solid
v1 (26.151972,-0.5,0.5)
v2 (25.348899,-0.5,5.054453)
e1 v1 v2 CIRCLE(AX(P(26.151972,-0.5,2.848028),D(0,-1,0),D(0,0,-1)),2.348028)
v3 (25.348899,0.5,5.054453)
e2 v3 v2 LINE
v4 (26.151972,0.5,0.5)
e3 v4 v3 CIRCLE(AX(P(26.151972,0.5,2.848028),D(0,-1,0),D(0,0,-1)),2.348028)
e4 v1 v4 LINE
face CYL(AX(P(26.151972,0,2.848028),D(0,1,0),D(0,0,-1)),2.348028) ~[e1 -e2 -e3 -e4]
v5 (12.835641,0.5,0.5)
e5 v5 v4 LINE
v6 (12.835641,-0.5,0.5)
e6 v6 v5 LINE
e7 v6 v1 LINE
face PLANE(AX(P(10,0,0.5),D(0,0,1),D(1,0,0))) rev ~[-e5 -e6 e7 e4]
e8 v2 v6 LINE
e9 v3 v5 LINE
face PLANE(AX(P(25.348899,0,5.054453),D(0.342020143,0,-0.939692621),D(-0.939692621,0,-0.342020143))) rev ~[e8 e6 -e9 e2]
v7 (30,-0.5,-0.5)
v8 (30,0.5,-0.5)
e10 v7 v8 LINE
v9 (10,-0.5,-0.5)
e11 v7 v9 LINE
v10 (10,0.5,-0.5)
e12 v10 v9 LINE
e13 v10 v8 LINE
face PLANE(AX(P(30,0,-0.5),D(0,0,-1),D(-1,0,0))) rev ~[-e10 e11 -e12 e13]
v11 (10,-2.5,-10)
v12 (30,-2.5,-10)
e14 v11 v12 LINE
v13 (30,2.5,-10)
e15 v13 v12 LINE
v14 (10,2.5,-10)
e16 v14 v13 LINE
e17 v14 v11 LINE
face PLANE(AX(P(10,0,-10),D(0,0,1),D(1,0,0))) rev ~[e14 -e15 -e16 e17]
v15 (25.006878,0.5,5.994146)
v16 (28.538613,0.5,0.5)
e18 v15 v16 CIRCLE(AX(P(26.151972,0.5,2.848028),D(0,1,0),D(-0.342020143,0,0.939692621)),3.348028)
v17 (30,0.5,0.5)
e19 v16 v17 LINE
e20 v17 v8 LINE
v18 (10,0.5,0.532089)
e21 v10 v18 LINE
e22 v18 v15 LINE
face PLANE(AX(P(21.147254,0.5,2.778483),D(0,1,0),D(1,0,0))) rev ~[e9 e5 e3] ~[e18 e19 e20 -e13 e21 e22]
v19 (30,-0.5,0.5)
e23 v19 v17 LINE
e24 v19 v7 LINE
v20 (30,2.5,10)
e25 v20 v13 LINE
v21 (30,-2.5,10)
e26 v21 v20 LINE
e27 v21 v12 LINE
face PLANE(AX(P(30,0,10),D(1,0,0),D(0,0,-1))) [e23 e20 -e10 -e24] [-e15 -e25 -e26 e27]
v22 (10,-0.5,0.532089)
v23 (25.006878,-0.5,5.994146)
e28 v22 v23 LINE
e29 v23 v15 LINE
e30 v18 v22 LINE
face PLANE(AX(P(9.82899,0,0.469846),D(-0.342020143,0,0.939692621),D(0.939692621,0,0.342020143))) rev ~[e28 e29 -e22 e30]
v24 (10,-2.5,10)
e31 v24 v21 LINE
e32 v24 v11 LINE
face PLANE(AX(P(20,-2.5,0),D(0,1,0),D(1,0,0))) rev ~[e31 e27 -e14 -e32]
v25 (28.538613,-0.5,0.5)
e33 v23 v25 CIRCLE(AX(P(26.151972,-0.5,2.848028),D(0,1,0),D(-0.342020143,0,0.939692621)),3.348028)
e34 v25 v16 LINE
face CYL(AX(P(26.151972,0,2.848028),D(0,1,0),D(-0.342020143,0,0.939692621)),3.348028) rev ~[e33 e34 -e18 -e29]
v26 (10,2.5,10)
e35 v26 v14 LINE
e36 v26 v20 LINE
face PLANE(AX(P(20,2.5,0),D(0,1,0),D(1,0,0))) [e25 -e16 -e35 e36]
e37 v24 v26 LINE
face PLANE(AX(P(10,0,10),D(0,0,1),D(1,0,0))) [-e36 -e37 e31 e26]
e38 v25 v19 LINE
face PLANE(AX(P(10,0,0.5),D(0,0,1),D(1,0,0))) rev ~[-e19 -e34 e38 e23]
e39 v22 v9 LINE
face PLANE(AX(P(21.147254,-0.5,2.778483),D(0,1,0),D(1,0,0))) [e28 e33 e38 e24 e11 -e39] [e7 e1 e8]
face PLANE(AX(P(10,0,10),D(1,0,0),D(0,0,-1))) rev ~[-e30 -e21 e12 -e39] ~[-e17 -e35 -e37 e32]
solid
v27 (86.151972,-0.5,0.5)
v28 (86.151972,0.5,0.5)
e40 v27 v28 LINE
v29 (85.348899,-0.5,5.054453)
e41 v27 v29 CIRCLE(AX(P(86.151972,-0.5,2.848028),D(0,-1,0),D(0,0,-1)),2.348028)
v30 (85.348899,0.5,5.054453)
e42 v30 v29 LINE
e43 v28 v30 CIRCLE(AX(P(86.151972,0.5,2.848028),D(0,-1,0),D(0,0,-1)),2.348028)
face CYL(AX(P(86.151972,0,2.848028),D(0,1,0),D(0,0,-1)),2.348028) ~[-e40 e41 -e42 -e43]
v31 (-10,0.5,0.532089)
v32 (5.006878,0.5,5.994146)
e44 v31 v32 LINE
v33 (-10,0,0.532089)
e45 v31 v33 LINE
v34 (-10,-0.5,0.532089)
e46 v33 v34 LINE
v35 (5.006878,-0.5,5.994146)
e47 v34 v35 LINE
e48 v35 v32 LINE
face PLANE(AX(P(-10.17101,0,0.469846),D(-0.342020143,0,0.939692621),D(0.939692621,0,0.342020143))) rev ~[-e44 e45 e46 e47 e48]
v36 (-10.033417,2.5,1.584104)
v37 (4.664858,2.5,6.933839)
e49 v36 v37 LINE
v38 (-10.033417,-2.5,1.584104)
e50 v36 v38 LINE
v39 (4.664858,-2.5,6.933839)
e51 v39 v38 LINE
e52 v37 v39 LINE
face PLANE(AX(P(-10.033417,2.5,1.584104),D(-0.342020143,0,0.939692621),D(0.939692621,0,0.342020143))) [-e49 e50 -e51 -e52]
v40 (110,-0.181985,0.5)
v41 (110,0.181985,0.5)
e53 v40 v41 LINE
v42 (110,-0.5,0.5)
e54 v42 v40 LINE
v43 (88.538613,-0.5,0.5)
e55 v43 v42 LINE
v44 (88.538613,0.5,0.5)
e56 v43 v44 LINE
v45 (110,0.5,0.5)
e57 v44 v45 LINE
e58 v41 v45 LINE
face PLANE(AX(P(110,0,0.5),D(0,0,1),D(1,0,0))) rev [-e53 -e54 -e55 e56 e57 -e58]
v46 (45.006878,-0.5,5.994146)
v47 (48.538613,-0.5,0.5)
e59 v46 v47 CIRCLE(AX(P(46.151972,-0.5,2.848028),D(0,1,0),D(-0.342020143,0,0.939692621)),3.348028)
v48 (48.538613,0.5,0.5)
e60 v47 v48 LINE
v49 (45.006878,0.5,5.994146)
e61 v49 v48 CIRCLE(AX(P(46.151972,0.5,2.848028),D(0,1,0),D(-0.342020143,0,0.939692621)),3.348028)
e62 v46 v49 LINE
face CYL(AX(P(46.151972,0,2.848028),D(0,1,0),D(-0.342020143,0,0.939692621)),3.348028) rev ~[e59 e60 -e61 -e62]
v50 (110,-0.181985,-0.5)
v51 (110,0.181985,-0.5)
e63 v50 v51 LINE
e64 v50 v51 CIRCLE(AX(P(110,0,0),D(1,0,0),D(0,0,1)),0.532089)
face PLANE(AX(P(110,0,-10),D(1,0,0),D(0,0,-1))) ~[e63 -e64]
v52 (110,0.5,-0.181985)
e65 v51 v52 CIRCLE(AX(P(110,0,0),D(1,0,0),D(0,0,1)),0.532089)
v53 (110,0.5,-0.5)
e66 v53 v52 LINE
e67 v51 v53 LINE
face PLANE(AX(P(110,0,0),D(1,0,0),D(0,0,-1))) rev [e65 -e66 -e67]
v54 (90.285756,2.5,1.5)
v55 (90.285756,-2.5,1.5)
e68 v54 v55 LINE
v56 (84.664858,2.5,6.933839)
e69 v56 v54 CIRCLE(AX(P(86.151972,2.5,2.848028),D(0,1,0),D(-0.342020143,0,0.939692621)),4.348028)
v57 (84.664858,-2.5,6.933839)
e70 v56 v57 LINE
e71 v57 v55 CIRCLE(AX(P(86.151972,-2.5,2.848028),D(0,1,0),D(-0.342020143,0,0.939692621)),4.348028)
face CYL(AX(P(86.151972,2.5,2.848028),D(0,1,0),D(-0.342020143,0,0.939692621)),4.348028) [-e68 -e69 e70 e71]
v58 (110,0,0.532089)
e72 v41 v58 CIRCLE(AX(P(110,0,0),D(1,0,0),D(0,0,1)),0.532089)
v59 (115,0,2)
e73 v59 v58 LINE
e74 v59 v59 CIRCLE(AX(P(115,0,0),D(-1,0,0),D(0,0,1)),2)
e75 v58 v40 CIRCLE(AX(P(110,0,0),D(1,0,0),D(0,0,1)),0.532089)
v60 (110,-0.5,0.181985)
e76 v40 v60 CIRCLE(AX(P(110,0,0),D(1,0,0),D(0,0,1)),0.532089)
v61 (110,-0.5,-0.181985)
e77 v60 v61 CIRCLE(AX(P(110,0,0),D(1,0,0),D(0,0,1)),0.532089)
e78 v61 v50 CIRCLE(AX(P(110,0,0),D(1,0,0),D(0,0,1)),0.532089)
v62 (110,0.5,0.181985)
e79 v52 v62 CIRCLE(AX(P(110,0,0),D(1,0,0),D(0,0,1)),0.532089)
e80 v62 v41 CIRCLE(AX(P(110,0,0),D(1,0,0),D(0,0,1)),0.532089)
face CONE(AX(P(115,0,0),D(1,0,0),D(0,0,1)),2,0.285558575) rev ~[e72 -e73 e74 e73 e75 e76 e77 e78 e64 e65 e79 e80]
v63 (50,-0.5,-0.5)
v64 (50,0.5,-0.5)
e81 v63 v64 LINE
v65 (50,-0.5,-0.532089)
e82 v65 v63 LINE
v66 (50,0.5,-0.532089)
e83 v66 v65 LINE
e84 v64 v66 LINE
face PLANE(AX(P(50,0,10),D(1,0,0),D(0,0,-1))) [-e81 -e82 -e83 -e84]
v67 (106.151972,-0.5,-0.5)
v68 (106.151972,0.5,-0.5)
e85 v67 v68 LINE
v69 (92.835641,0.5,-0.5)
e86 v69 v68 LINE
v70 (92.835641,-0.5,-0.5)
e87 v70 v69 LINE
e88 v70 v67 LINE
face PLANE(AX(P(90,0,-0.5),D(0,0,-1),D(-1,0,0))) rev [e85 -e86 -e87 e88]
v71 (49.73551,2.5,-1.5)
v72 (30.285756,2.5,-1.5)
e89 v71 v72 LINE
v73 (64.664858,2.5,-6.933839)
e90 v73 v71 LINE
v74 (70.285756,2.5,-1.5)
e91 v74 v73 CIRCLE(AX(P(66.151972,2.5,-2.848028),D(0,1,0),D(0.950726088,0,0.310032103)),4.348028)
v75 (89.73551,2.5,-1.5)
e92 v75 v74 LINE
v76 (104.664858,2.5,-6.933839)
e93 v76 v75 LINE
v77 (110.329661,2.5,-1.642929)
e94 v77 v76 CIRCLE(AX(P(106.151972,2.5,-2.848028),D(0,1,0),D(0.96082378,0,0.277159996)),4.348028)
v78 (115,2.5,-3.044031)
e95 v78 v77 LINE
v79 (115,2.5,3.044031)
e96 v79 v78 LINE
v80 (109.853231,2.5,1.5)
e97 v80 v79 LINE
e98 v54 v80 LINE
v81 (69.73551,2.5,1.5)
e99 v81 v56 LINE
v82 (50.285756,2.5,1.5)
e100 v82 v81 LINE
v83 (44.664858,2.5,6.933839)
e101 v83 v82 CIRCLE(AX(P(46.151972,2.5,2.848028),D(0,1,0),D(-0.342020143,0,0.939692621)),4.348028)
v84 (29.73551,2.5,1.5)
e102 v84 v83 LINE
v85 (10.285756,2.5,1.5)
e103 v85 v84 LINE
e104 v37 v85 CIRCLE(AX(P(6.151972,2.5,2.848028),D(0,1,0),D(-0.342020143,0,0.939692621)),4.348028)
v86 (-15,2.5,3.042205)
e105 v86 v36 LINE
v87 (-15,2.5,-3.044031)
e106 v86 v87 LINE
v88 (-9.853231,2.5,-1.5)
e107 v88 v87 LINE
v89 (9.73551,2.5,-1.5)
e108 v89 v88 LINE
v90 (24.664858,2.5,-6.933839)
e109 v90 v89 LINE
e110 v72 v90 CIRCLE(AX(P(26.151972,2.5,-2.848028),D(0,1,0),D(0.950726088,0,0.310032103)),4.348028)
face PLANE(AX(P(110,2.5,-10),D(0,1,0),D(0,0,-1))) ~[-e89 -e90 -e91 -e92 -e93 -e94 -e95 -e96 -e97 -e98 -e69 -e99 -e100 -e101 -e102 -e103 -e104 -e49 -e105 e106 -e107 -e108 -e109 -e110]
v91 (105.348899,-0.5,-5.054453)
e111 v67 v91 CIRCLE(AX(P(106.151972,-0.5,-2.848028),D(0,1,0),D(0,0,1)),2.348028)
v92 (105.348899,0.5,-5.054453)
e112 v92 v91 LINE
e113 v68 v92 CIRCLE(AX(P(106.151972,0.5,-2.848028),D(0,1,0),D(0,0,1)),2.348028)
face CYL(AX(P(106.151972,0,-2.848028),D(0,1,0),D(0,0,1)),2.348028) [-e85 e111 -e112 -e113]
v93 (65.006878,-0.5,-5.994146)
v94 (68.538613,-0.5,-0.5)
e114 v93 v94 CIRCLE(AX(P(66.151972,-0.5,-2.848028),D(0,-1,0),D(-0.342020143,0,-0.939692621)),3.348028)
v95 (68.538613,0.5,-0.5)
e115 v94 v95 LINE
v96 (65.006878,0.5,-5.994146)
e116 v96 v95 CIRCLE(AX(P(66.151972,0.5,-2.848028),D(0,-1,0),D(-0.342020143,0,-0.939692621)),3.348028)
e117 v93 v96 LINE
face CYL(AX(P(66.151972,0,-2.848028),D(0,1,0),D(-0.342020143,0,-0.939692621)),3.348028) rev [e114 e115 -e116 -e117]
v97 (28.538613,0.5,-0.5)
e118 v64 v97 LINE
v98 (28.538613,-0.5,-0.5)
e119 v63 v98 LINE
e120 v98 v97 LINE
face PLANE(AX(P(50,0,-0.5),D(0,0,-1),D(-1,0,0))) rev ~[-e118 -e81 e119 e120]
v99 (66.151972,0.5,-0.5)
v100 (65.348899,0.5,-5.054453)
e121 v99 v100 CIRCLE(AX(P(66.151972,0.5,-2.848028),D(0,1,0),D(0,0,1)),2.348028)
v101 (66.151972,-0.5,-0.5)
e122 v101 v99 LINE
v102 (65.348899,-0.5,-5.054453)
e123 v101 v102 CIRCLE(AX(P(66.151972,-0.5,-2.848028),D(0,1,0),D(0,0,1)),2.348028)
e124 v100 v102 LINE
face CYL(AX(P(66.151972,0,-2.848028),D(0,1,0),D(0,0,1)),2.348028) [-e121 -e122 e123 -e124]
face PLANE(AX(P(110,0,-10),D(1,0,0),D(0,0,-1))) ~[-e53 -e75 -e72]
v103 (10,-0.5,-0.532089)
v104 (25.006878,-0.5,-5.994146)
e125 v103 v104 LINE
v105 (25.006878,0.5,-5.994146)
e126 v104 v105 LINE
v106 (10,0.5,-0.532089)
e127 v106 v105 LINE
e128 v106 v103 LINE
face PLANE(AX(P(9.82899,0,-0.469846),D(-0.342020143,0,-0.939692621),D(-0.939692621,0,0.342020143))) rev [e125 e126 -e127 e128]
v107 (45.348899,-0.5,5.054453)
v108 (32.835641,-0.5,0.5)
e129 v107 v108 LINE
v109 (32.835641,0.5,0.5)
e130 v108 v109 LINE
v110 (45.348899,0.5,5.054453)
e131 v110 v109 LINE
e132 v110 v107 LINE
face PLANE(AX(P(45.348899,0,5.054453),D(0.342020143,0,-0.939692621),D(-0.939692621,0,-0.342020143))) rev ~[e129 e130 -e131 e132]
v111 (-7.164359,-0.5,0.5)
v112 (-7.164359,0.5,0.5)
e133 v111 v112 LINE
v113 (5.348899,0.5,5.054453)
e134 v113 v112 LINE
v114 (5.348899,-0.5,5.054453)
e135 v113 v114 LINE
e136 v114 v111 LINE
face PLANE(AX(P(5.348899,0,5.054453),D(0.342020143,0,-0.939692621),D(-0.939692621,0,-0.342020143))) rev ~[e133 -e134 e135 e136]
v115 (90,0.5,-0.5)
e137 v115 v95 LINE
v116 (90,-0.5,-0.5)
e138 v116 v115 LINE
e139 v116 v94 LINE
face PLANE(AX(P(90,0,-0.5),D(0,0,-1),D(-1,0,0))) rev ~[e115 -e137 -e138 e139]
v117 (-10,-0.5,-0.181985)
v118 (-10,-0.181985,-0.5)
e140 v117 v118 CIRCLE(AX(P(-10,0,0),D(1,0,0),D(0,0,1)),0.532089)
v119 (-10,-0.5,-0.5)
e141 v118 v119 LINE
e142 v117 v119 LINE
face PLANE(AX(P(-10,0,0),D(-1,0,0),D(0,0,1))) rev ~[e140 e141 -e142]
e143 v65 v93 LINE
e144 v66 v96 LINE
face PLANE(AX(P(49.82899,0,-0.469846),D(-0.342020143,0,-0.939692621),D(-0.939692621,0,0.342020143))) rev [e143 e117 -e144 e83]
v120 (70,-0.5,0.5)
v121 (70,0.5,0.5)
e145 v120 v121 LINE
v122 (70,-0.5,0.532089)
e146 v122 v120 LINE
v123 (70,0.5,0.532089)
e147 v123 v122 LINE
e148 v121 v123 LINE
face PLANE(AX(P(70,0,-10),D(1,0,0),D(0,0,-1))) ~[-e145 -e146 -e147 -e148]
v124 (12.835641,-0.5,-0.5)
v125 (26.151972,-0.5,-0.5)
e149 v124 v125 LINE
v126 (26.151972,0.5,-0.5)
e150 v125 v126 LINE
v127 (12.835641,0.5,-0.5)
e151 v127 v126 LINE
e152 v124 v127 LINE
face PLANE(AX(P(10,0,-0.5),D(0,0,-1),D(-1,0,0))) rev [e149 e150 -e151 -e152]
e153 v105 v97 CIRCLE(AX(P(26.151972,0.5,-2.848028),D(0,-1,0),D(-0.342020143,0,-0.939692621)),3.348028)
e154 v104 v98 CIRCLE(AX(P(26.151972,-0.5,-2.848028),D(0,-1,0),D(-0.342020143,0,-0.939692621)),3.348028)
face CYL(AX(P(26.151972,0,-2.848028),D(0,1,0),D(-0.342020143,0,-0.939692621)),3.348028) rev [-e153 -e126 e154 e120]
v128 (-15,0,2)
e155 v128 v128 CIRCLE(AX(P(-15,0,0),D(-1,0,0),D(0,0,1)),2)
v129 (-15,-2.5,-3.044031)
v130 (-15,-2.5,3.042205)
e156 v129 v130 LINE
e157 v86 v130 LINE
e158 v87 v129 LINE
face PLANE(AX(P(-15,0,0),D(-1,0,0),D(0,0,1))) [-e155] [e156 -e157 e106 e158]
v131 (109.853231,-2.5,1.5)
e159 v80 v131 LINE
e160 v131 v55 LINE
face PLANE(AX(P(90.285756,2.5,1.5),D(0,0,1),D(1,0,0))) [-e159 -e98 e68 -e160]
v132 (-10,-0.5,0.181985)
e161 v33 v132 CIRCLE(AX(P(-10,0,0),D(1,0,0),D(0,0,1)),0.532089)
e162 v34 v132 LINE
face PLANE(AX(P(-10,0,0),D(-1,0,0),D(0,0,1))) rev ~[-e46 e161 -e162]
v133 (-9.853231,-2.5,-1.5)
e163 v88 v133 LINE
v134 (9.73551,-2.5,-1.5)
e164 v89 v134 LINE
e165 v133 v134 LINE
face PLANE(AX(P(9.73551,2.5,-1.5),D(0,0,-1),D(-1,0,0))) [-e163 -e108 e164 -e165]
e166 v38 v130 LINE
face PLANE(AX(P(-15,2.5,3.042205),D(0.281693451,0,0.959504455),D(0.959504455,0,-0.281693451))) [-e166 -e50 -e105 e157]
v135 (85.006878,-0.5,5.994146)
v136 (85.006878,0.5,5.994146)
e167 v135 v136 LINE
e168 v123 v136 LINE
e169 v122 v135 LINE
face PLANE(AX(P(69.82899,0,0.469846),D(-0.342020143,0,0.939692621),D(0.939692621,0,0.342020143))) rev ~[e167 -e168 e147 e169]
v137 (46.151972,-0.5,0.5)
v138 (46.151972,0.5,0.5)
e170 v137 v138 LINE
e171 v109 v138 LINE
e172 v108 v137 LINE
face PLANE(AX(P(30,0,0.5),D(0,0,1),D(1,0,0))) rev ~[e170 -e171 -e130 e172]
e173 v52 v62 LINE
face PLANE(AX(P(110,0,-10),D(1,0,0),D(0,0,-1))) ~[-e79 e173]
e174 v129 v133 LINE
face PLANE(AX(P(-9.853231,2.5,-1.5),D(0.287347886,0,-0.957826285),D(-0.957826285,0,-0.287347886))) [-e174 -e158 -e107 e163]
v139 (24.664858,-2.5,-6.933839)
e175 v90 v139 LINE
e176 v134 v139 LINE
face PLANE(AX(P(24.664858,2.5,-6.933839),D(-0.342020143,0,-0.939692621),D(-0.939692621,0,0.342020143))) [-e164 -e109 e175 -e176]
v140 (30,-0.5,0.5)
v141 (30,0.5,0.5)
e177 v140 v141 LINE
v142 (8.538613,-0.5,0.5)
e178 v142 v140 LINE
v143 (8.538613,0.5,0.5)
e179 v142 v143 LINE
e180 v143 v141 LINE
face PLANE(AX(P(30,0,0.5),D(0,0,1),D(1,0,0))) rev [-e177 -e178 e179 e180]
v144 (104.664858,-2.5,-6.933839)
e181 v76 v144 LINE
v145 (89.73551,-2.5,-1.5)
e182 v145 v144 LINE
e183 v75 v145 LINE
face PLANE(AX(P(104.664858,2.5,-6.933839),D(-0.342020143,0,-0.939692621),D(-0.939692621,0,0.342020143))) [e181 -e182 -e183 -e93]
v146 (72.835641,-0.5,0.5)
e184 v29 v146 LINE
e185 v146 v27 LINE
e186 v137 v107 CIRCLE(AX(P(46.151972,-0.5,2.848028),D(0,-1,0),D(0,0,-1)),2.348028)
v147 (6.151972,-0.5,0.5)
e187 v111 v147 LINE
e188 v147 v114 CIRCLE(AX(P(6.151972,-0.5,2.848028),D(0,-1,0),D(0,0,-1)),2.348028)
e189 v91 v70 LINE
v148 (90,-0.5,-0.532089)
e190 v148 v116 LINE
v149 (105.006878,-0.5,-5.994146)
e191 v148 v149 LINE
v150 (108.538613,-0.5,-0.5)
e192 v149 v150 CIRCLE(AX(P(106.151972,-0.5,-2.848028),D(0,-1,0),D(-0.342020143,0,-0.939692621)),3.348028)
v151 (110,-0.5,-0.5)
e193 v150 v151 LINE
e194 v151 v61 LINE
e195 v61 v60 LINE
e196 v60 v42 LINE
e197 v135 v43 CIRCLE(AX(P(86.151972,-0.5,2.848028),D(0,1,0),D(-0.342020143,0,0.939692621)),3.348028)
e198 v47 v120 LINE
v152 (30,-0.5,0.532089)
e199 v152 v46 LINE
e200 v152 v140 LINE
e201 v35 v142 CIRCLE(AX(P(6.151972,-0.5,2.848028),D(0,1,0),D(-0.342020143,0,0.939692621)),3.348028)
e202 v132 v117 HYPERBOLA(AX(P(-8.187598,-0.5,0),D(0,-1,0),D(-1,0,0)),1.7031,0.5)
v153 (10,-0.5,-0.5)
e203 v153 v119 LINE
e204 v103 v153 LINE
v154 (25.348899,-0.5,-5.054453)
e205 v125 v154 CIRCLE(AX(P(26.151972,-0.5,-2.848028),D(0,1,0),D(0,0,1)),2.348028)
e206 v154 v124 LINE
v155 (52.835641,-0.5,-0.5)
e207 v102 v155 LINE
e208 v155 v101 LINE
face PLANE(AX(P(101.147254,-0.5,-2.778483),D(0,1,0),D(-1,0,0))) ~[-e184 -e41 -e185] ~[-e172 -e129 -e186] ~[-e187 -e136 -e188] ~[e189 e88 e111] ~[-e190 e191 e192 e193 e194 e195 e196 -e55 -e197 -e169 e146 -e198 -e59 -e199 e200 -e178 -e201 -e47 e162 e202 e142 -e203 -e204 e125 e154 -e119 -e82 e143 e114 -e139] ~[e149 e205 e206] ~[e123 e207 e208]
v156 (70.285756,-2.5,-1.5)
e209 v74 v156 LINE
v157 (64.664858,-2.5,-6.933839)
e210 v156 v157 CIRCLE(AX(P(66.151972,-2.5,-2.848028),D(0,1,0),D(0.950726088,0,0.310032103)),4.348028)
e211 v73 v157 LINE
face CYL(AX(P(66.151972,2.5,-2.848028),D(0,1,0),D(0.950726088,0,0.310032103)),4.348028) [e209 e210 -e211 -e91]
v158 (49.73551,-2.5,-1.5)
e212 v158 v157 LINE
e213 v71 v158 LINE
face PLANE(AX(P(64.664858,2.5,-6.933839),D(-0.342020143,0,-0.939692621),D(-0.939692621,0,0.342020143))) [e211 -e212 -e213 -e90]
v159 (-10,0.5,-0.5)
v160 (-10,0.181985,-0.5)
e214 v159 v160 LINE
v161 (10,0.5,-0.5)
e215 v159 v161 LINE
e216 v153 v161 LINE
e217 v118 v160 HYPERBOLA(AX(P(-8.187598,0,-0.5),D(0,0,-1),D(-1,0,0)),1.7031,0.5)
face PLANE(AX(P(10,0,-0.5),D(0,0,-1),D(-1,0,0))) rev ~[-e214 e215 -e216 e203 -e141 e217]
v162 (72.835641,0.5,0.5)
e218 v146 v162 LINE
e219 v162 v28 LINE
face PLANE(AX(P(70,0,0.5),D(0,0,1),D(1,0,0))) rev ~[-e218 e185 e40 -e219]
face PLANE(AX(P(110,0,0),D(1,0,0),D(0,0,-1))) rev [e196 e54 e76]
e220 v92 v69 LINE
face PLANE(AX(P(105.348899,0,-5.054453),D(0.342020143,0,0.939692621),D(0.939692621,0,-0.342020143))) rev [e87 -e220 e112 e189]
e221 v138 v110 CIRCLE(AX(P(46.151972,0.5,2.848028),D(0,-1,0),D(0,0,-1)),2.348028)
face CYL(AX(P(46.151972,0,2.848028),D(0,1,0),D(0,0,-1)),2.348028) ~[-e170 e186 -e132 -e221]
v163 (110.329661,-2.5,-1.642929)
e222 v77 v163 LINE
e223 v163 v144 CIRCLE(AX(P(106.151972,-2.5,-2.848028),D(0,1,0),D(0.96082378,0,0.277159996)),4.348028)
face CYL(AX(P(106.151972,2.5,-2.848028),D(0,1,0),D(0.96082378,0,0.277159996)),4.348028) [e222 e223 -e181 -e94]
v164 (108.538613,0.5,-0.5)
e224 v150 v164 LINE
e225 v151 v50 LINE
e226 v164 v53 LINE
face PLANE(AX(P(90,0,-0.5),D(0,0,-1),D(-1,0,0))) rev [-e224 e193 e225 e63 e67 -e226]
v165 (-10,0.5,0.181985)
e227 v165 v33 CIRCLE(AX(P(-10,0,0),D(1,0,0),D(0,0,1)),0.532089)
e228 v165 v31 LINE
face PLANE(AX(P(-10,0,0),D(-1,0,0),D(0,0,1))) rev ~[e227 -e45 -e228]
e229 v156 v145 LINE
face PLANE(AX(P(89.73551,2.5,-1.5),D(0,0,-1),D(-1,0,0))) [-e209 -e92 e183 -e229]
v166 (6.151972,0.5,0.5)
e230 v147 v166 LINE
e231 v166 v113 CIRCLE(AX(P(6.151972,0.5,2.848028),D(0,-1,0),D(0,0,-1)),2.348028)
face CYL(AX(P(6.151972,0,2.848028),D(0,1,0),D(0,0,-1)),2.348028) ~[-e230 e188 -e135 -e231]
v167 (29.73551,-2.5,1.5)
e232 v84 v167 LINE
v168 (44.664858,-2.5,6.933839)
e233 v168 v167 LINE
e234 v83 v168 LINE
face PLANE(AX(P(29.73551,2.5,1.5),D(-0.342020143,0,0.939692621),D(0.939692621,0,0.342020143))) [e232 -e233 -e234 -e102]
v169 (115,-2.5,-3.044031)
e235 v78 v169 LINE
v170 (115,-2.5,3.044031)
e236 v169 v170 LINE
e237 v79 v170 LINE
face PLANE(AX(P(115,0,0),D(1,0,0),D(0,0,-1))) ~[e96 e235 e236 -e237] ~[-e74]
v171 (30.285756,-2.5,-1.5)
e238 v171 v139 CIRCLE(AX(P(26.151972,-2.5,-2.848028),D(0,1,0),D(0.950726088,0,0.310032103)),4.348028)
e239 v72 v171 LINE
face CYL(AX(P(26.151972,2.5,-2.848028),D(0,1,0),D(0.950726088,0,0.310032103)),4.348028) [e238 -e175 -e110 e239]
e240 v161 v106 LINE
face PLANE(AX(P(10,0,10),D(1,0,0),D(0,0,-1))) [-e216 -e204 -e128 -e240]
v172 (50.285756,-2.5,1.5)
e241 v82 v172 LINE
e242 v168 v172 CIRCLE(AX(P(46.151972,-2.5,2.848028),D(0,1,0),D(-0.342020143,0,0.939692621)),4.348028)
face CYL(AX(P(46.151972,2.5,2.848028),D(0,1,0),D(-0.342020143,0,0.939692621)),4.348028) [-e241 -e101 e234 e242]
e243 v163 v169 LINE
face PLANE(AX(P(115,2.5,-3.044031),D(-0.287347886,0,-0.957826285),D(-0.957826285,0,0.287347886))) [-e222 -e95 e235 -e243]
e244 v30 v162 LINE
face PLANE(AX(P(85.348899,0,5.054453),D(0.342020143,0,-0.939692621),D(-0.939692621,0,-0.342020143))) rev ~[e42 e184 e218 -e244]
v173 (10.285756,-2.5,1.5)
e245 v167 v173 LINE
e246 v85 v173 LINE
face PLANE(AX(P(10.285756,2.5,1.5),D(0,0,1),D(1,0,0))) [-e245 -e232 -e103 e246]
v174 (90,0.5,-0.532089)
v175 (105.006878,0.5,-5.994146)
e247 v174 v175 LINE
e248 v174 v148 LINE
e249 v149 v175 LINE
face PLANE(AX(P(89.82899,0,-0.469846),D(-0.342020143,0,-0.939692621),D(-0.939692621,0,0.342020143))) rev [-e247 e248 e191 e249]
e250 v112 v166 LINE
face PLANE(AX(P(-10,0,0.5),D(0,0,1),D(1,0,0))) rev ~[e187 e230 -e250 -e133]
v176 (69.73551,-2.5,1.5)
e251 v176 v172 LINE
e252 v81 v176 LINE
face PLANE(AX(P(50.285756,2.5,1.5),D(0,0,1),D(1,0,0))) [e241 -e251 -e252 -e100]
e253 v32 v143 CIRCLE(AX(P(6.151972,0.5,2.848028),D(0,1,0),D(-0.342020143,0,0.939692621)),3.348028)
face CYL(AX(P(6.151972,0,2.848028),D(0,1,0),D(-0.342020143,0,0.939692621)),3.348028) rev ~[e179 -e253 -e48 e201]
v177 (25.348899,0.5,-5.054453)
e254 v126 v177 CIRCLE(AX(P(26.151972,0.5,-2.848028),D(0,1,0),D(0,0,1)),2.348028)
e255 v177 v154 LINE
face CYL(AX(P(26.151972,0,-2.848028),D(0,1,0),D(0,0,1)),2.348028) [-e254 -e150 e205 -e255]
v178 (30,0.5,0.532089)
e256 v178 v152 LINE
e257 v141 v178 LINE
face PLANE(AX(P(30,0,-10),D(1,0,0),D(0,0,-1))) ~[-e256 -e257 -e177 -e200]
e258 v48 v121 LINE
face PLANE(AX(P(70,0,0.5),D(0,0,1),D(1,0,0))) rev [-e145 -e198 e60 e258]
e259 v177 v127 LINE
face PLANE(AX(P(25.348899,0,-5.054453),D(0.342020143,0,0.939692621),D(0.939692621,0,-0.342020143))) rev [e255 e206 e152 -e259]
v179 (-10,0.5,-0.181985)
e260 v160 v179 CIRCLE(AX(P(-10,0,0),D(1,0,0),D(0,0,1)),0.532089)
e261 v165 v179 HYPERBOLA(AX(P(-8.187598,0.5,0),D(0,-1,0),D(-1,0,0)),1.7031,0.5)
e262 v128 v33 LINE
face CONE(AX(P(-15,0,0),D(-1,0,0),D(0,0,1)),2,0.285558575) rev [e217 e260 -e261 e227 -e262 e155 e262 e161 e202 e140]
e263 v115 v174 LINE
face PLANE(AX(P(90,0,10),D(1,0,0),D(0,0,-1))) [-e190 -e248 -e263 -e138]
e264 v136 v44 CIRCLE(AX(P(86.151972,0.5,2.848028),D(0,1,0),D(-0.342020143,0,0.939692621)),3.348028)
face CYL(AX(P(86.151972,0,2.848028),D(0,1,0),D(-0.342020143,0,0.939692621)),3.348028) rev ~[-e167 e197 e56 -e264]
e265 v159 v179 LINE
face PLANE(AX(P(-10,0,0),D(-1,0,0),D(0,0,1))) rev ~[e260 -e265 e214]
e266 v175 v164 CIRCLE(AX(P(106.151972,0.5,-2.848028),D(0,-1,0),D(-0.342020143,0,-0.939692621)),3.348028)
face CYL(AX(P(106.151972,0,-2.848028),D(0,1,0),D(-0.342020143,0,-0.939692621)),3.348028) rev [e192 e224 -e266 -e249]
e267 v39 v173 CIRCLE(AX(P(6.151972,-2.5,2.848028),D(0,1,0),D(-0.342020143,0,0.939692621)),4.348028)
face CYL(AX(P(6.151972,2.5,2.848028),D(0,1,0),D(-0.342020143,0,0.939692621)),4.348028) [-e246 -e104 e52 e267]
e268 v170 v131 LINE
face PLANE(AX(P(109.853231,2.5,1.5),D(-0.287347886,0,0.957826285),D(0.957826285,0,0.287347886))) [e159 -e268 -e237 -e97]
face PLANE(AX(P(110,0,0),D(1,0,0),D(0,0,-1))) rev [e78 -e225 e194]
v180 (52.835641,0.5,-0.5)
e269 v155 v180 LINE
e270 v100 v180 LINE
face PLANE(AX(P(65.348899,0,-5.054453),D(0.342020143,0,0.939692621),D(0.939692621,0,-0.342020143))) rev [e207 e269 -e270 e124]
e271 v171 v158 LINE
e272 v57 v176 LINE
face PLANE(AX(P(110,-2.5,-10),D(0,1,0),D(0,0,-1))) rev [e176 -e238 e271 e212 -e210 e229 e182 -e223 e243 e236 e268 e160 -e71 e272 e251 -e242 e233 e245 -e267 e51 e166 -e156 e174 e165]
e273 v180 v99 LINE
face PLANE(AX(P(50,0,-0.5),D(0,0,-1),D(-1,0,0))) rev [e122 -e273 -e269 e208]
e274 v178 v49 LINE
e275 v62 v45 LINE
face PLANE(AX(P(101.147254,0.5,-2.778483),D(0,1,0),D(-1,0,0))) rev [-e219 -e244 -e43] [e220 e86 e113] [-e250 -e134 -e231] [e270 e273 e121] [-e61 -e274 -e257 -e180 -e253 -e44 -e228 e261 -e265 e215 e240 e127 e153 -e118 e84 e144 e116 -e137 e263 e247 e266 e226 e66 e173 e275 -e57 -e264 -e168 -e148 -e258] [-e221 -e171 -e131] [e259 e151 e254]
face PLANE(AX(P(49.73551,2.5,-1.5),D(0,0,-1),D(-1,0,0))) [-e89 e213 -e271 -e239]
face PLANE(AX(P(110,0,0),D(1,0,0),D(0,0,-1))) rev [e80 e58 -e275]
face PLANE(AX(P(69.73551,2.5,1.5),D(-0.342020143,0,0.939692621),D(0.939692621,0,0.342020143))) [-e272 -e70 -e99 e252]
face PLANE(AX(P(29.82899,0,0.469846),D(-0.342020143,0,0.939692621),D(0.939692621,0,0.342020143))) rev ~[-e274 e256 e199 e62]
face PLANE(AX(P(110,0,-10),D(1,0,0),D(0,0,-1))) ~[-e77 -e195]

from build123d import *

# Parameters (mm, degrees)
SKETCH3_W               = 20
SKETCH3_H               = 20
BOSS_EXTRUDE2_DEPTH     = 2.5
CUT_EXTRUDE_THIN2_DEPTH = 0.5
CUT_EXTRUDE_THIN4_DEPTH = 0.5
LPATTERN1_COUNT         = 2
LPATTERN1_PITCH         = 20
LPATTERN2_COUNT         = 3
LPATTERN2_PITCH         = 40
SKETCH7_W               = 20
SKETCH7_H               = 5
BOSS_EXTRUDE3_DEPTH     = 5
SKETCH9_W               = 130
SKETCH9_H               = 20
CUT_EXTRUDE1_DEPTH      = 1
CUT_EXTRUDE1_DEPTH_BACK = 6


with BuildPart() as part:
    # Sketch3 → Boss-Extrude2 (new body, symmetric)
    with BuildSketch(Plane(origin=(0, 0, 0), x_dir=(1, 0, 0), z_dir=(0, 1, 0))):
        Rectangle(SKETCH3_W, SKETCH3_H)
    extrude(amount=BOSS_EXTRUDE2_DEPTH, both=True)

    # Sketch6 → Cut-Extrude-Thin2 (cut, symmetric)
    with BuildSketch(Plane(origin=(0, 0, 0), x_dir=(1, 0, 0), z_dir=(0, 1, 0))):
        Polygon((-10, -0.5), (0, -0.5), (10, -0.5), (10, 0.5), (0, 0.5), (-10, 0.5), align=None)
    extrude(amount=CUT_EXTRUDE_THIN2_DEPTH, both=True, mode=Mode.SUBTRACT)

    # Sketch4 → Cut-Extrude-Thin4 (cut, symmetric)
    with BuildSketch(Plane(origin=(0, 0, 0), x_dir=(1, 0, 0), z_dir=(0, 1, 0))):
        with BuildLine():
            Line((-10.171010072, -0.46984631), (5.006878464, -5.994145956))
            ThreePointArc((5.006878464, -5.994145956), (9.449135926, -3.429407415), (6.151971613, 0.5))
            Line((6.151971613, 0.5), (6.151971613, -0.5))
            ThreePointArc((6.151971613, -0.5), (8.464328173, -3.255759238), (5.348898608, -5.054453336))
            Line((5.348898608, -5.054453336), (-9.828989928, 0.46984631))
            Line((-9.828989928, 0.46984631), (-10.171010072, -0.46984631))
        make_face()
    extrude(amount=CUT_EXTRUDE_THIN4_DEPTH, both=True, mode=Mode.SUBTRACT)


with BuildPart() as lpattern1_1:
    # LPattern1: pattern copy
    add(part.part.moved(Location(Vector(1, 0, 0) * (1 * LPATTERN1_PITCH))))


with BuildPart() as body_3:
    # Mirror1: mirrored copy
    add(lpattern1_1.part.mirror(Plane.XY))


with BuildPart() as part_1:
    add(part.part)

    # Combine1: union body 3
    add(body_3.part)


with BuildPart() as lpattern2_1:
    # LPattern2: pattern copy
    add(part_1.part.moved(Location(Vector(1, 0, 0) * (1 * LPATTERN2_PITCH))))


with BuildPart() as lpattern2_2:
    # LPattern2: pattern copy
    add(part_1.part.moved(Location(Vector(1, 0, 0) * (2 * LPATTERN2_PITCH))))


with BuildPart() as part_2:
    add(part_1.part)

    # Combine2: union LPattern2_1, LPattern2_2
    add(lpattern2_1.part)
    add(lpattern2_2.part)


with BuildPart() as body_3_2:
    # Sketch7 → Boss-Extrude3 (new body)
    with BuildSketch(Plane.ZY.offset(10)):
        Rectangle(SKETCH7_W, SKETCH7_H)
    extrude(amount=BOSS_EXTRUDE3_DEPTH)


with BuildPart() as cut_revolve2_tool:
    # Sketch8 → Cut-Revolve2 (revolve)
    with BuildSketch(Plane(origin=(0, 0, 0), x_dir=(1, 0, 0), z_dir=(0, 1, 0))):
        Polygon((-8.187598414, 0), (-15, 0), (-15, -2), align=None)
    revolve(axis=Axis((-8.187598414, 0, 0), (-1, 0, 0)))


with BuildPart() as part_3:
    add(part_2.part)

    # Cut-Revolve2: cut by cut_revolve2_tool
    add(cut_revolve2_tool.part, mode=Mode.SUBTRACT)


with BuildPart() as body_3_2_1:
    add(body_3_2.part)

    # Cut-Revolve2: cut by cut_revolve2_tool
    add(cut_revolve2_tool.part, mode=Mode.SUBTRACT)


with BuildPart() as body_4:
    # Mirror2: mirrored copy
    add(body_3_2_1.part.mirror(Plane.ZY.offset(-50)))


with BuildPart() as body_3_2_2:
    add(body_3_2_1.part)

    # Combine3: union part, body 4
    add(part_3.part)
    add(body_4.part)

    # Sketch9 → Cut-Extrude1 (cut, two sides)
    with BuildSketch(Plane(origin=(0, 2.5, 0), x_dir=(1, 0, 0), z_dir=(0, 1, 0))) as cut_extrude1_sk:
        with Locations((50, 0)):
            Rectangle(SKETCH9_W, SKETCH9_H)
        with BuildLine():
            Line((104.664858321, 6.933838577), (89.735509529, 1.5))
            Line((89.735509529, 1.5), (70.285755633, 1.5))
            ThreePointArc((70.285755633, 1.5), (69.174034965, 5.974125626), (64.664858321, 6.933838577))
            Line((64.664858321, 6.933838577), (49.735509529, 1.5))
            Line((49.735509529, 1.5), (30.285755633, 1.5))
            ThreePointArc((30.285755633, 1.5), (29.174034965, 5.974125626), (24.664858321, 6.933838577))
            Line((24.664858321, 6.933838577), (9.735509529, 1.5))
            Line((9.735509529, 1.5), (-9.853231164, 1.5))
            Line((-9.853231164, 1.5), (-16, 3.344030651))
            Line((-16, 3.344030651), (-16, -3.335786867))
            Line((-16, -3.335786867), (-10.03341654, -1.584104033))
            Line((-10.03341654, -1.584104033), (4.664858321, -6.933838577))
            ThreePointArc((4.664858321, -6.933838577), (9.174034965, -5.974125626), (10.285755633, -1.5))
            Line((10.285755633, -1.5), (29.735509529, -1.5))
            Line((29.735509529, -1.5), (44.664858321, -6.933838577))
            ThreePointArc((44.664858321, -6.933838577), (49.174034965, -5.974125626), (50.285755633, -1.5))
            Line((50.285755633, -1.5), (69.735509529, -1.5))
            Line((69.735509529, -1.5), (84.664858321, -6.933838577))
            ThreePointArc((84.664858321, -6.933838577), (89.174034965, -5.974125626), (90.285755633, -1.5))
            Line((90.285755633, -1.5), (109.853231164, -1.5))
            Line((109.853231164, -1.5), (116, -3.344030651))
            Line((116, -3.344030651), (116, 3.344030651))
            Line((116, 3.344030651), (110.329660684, 1.642928856))
            ThreePointArc((110.329660684, 1.642928856), (109.119838006, 6.025624952), (104.664858321, 6.933838577))
        make_face(mode=Mode.SUBTRACT)
    extrude(amount=CUT_EXTRUDE1_DEPTH, mode=Mode.SUBTRACT)
    extrude(cut_extrude1_sk.sketch, amount=-CUT_EXTRUDE1_DEPTH_BACK, mode=Mode.SUBTRACT)


solid = Compound([lpattern1_1.part, body_3_2_2.part])
